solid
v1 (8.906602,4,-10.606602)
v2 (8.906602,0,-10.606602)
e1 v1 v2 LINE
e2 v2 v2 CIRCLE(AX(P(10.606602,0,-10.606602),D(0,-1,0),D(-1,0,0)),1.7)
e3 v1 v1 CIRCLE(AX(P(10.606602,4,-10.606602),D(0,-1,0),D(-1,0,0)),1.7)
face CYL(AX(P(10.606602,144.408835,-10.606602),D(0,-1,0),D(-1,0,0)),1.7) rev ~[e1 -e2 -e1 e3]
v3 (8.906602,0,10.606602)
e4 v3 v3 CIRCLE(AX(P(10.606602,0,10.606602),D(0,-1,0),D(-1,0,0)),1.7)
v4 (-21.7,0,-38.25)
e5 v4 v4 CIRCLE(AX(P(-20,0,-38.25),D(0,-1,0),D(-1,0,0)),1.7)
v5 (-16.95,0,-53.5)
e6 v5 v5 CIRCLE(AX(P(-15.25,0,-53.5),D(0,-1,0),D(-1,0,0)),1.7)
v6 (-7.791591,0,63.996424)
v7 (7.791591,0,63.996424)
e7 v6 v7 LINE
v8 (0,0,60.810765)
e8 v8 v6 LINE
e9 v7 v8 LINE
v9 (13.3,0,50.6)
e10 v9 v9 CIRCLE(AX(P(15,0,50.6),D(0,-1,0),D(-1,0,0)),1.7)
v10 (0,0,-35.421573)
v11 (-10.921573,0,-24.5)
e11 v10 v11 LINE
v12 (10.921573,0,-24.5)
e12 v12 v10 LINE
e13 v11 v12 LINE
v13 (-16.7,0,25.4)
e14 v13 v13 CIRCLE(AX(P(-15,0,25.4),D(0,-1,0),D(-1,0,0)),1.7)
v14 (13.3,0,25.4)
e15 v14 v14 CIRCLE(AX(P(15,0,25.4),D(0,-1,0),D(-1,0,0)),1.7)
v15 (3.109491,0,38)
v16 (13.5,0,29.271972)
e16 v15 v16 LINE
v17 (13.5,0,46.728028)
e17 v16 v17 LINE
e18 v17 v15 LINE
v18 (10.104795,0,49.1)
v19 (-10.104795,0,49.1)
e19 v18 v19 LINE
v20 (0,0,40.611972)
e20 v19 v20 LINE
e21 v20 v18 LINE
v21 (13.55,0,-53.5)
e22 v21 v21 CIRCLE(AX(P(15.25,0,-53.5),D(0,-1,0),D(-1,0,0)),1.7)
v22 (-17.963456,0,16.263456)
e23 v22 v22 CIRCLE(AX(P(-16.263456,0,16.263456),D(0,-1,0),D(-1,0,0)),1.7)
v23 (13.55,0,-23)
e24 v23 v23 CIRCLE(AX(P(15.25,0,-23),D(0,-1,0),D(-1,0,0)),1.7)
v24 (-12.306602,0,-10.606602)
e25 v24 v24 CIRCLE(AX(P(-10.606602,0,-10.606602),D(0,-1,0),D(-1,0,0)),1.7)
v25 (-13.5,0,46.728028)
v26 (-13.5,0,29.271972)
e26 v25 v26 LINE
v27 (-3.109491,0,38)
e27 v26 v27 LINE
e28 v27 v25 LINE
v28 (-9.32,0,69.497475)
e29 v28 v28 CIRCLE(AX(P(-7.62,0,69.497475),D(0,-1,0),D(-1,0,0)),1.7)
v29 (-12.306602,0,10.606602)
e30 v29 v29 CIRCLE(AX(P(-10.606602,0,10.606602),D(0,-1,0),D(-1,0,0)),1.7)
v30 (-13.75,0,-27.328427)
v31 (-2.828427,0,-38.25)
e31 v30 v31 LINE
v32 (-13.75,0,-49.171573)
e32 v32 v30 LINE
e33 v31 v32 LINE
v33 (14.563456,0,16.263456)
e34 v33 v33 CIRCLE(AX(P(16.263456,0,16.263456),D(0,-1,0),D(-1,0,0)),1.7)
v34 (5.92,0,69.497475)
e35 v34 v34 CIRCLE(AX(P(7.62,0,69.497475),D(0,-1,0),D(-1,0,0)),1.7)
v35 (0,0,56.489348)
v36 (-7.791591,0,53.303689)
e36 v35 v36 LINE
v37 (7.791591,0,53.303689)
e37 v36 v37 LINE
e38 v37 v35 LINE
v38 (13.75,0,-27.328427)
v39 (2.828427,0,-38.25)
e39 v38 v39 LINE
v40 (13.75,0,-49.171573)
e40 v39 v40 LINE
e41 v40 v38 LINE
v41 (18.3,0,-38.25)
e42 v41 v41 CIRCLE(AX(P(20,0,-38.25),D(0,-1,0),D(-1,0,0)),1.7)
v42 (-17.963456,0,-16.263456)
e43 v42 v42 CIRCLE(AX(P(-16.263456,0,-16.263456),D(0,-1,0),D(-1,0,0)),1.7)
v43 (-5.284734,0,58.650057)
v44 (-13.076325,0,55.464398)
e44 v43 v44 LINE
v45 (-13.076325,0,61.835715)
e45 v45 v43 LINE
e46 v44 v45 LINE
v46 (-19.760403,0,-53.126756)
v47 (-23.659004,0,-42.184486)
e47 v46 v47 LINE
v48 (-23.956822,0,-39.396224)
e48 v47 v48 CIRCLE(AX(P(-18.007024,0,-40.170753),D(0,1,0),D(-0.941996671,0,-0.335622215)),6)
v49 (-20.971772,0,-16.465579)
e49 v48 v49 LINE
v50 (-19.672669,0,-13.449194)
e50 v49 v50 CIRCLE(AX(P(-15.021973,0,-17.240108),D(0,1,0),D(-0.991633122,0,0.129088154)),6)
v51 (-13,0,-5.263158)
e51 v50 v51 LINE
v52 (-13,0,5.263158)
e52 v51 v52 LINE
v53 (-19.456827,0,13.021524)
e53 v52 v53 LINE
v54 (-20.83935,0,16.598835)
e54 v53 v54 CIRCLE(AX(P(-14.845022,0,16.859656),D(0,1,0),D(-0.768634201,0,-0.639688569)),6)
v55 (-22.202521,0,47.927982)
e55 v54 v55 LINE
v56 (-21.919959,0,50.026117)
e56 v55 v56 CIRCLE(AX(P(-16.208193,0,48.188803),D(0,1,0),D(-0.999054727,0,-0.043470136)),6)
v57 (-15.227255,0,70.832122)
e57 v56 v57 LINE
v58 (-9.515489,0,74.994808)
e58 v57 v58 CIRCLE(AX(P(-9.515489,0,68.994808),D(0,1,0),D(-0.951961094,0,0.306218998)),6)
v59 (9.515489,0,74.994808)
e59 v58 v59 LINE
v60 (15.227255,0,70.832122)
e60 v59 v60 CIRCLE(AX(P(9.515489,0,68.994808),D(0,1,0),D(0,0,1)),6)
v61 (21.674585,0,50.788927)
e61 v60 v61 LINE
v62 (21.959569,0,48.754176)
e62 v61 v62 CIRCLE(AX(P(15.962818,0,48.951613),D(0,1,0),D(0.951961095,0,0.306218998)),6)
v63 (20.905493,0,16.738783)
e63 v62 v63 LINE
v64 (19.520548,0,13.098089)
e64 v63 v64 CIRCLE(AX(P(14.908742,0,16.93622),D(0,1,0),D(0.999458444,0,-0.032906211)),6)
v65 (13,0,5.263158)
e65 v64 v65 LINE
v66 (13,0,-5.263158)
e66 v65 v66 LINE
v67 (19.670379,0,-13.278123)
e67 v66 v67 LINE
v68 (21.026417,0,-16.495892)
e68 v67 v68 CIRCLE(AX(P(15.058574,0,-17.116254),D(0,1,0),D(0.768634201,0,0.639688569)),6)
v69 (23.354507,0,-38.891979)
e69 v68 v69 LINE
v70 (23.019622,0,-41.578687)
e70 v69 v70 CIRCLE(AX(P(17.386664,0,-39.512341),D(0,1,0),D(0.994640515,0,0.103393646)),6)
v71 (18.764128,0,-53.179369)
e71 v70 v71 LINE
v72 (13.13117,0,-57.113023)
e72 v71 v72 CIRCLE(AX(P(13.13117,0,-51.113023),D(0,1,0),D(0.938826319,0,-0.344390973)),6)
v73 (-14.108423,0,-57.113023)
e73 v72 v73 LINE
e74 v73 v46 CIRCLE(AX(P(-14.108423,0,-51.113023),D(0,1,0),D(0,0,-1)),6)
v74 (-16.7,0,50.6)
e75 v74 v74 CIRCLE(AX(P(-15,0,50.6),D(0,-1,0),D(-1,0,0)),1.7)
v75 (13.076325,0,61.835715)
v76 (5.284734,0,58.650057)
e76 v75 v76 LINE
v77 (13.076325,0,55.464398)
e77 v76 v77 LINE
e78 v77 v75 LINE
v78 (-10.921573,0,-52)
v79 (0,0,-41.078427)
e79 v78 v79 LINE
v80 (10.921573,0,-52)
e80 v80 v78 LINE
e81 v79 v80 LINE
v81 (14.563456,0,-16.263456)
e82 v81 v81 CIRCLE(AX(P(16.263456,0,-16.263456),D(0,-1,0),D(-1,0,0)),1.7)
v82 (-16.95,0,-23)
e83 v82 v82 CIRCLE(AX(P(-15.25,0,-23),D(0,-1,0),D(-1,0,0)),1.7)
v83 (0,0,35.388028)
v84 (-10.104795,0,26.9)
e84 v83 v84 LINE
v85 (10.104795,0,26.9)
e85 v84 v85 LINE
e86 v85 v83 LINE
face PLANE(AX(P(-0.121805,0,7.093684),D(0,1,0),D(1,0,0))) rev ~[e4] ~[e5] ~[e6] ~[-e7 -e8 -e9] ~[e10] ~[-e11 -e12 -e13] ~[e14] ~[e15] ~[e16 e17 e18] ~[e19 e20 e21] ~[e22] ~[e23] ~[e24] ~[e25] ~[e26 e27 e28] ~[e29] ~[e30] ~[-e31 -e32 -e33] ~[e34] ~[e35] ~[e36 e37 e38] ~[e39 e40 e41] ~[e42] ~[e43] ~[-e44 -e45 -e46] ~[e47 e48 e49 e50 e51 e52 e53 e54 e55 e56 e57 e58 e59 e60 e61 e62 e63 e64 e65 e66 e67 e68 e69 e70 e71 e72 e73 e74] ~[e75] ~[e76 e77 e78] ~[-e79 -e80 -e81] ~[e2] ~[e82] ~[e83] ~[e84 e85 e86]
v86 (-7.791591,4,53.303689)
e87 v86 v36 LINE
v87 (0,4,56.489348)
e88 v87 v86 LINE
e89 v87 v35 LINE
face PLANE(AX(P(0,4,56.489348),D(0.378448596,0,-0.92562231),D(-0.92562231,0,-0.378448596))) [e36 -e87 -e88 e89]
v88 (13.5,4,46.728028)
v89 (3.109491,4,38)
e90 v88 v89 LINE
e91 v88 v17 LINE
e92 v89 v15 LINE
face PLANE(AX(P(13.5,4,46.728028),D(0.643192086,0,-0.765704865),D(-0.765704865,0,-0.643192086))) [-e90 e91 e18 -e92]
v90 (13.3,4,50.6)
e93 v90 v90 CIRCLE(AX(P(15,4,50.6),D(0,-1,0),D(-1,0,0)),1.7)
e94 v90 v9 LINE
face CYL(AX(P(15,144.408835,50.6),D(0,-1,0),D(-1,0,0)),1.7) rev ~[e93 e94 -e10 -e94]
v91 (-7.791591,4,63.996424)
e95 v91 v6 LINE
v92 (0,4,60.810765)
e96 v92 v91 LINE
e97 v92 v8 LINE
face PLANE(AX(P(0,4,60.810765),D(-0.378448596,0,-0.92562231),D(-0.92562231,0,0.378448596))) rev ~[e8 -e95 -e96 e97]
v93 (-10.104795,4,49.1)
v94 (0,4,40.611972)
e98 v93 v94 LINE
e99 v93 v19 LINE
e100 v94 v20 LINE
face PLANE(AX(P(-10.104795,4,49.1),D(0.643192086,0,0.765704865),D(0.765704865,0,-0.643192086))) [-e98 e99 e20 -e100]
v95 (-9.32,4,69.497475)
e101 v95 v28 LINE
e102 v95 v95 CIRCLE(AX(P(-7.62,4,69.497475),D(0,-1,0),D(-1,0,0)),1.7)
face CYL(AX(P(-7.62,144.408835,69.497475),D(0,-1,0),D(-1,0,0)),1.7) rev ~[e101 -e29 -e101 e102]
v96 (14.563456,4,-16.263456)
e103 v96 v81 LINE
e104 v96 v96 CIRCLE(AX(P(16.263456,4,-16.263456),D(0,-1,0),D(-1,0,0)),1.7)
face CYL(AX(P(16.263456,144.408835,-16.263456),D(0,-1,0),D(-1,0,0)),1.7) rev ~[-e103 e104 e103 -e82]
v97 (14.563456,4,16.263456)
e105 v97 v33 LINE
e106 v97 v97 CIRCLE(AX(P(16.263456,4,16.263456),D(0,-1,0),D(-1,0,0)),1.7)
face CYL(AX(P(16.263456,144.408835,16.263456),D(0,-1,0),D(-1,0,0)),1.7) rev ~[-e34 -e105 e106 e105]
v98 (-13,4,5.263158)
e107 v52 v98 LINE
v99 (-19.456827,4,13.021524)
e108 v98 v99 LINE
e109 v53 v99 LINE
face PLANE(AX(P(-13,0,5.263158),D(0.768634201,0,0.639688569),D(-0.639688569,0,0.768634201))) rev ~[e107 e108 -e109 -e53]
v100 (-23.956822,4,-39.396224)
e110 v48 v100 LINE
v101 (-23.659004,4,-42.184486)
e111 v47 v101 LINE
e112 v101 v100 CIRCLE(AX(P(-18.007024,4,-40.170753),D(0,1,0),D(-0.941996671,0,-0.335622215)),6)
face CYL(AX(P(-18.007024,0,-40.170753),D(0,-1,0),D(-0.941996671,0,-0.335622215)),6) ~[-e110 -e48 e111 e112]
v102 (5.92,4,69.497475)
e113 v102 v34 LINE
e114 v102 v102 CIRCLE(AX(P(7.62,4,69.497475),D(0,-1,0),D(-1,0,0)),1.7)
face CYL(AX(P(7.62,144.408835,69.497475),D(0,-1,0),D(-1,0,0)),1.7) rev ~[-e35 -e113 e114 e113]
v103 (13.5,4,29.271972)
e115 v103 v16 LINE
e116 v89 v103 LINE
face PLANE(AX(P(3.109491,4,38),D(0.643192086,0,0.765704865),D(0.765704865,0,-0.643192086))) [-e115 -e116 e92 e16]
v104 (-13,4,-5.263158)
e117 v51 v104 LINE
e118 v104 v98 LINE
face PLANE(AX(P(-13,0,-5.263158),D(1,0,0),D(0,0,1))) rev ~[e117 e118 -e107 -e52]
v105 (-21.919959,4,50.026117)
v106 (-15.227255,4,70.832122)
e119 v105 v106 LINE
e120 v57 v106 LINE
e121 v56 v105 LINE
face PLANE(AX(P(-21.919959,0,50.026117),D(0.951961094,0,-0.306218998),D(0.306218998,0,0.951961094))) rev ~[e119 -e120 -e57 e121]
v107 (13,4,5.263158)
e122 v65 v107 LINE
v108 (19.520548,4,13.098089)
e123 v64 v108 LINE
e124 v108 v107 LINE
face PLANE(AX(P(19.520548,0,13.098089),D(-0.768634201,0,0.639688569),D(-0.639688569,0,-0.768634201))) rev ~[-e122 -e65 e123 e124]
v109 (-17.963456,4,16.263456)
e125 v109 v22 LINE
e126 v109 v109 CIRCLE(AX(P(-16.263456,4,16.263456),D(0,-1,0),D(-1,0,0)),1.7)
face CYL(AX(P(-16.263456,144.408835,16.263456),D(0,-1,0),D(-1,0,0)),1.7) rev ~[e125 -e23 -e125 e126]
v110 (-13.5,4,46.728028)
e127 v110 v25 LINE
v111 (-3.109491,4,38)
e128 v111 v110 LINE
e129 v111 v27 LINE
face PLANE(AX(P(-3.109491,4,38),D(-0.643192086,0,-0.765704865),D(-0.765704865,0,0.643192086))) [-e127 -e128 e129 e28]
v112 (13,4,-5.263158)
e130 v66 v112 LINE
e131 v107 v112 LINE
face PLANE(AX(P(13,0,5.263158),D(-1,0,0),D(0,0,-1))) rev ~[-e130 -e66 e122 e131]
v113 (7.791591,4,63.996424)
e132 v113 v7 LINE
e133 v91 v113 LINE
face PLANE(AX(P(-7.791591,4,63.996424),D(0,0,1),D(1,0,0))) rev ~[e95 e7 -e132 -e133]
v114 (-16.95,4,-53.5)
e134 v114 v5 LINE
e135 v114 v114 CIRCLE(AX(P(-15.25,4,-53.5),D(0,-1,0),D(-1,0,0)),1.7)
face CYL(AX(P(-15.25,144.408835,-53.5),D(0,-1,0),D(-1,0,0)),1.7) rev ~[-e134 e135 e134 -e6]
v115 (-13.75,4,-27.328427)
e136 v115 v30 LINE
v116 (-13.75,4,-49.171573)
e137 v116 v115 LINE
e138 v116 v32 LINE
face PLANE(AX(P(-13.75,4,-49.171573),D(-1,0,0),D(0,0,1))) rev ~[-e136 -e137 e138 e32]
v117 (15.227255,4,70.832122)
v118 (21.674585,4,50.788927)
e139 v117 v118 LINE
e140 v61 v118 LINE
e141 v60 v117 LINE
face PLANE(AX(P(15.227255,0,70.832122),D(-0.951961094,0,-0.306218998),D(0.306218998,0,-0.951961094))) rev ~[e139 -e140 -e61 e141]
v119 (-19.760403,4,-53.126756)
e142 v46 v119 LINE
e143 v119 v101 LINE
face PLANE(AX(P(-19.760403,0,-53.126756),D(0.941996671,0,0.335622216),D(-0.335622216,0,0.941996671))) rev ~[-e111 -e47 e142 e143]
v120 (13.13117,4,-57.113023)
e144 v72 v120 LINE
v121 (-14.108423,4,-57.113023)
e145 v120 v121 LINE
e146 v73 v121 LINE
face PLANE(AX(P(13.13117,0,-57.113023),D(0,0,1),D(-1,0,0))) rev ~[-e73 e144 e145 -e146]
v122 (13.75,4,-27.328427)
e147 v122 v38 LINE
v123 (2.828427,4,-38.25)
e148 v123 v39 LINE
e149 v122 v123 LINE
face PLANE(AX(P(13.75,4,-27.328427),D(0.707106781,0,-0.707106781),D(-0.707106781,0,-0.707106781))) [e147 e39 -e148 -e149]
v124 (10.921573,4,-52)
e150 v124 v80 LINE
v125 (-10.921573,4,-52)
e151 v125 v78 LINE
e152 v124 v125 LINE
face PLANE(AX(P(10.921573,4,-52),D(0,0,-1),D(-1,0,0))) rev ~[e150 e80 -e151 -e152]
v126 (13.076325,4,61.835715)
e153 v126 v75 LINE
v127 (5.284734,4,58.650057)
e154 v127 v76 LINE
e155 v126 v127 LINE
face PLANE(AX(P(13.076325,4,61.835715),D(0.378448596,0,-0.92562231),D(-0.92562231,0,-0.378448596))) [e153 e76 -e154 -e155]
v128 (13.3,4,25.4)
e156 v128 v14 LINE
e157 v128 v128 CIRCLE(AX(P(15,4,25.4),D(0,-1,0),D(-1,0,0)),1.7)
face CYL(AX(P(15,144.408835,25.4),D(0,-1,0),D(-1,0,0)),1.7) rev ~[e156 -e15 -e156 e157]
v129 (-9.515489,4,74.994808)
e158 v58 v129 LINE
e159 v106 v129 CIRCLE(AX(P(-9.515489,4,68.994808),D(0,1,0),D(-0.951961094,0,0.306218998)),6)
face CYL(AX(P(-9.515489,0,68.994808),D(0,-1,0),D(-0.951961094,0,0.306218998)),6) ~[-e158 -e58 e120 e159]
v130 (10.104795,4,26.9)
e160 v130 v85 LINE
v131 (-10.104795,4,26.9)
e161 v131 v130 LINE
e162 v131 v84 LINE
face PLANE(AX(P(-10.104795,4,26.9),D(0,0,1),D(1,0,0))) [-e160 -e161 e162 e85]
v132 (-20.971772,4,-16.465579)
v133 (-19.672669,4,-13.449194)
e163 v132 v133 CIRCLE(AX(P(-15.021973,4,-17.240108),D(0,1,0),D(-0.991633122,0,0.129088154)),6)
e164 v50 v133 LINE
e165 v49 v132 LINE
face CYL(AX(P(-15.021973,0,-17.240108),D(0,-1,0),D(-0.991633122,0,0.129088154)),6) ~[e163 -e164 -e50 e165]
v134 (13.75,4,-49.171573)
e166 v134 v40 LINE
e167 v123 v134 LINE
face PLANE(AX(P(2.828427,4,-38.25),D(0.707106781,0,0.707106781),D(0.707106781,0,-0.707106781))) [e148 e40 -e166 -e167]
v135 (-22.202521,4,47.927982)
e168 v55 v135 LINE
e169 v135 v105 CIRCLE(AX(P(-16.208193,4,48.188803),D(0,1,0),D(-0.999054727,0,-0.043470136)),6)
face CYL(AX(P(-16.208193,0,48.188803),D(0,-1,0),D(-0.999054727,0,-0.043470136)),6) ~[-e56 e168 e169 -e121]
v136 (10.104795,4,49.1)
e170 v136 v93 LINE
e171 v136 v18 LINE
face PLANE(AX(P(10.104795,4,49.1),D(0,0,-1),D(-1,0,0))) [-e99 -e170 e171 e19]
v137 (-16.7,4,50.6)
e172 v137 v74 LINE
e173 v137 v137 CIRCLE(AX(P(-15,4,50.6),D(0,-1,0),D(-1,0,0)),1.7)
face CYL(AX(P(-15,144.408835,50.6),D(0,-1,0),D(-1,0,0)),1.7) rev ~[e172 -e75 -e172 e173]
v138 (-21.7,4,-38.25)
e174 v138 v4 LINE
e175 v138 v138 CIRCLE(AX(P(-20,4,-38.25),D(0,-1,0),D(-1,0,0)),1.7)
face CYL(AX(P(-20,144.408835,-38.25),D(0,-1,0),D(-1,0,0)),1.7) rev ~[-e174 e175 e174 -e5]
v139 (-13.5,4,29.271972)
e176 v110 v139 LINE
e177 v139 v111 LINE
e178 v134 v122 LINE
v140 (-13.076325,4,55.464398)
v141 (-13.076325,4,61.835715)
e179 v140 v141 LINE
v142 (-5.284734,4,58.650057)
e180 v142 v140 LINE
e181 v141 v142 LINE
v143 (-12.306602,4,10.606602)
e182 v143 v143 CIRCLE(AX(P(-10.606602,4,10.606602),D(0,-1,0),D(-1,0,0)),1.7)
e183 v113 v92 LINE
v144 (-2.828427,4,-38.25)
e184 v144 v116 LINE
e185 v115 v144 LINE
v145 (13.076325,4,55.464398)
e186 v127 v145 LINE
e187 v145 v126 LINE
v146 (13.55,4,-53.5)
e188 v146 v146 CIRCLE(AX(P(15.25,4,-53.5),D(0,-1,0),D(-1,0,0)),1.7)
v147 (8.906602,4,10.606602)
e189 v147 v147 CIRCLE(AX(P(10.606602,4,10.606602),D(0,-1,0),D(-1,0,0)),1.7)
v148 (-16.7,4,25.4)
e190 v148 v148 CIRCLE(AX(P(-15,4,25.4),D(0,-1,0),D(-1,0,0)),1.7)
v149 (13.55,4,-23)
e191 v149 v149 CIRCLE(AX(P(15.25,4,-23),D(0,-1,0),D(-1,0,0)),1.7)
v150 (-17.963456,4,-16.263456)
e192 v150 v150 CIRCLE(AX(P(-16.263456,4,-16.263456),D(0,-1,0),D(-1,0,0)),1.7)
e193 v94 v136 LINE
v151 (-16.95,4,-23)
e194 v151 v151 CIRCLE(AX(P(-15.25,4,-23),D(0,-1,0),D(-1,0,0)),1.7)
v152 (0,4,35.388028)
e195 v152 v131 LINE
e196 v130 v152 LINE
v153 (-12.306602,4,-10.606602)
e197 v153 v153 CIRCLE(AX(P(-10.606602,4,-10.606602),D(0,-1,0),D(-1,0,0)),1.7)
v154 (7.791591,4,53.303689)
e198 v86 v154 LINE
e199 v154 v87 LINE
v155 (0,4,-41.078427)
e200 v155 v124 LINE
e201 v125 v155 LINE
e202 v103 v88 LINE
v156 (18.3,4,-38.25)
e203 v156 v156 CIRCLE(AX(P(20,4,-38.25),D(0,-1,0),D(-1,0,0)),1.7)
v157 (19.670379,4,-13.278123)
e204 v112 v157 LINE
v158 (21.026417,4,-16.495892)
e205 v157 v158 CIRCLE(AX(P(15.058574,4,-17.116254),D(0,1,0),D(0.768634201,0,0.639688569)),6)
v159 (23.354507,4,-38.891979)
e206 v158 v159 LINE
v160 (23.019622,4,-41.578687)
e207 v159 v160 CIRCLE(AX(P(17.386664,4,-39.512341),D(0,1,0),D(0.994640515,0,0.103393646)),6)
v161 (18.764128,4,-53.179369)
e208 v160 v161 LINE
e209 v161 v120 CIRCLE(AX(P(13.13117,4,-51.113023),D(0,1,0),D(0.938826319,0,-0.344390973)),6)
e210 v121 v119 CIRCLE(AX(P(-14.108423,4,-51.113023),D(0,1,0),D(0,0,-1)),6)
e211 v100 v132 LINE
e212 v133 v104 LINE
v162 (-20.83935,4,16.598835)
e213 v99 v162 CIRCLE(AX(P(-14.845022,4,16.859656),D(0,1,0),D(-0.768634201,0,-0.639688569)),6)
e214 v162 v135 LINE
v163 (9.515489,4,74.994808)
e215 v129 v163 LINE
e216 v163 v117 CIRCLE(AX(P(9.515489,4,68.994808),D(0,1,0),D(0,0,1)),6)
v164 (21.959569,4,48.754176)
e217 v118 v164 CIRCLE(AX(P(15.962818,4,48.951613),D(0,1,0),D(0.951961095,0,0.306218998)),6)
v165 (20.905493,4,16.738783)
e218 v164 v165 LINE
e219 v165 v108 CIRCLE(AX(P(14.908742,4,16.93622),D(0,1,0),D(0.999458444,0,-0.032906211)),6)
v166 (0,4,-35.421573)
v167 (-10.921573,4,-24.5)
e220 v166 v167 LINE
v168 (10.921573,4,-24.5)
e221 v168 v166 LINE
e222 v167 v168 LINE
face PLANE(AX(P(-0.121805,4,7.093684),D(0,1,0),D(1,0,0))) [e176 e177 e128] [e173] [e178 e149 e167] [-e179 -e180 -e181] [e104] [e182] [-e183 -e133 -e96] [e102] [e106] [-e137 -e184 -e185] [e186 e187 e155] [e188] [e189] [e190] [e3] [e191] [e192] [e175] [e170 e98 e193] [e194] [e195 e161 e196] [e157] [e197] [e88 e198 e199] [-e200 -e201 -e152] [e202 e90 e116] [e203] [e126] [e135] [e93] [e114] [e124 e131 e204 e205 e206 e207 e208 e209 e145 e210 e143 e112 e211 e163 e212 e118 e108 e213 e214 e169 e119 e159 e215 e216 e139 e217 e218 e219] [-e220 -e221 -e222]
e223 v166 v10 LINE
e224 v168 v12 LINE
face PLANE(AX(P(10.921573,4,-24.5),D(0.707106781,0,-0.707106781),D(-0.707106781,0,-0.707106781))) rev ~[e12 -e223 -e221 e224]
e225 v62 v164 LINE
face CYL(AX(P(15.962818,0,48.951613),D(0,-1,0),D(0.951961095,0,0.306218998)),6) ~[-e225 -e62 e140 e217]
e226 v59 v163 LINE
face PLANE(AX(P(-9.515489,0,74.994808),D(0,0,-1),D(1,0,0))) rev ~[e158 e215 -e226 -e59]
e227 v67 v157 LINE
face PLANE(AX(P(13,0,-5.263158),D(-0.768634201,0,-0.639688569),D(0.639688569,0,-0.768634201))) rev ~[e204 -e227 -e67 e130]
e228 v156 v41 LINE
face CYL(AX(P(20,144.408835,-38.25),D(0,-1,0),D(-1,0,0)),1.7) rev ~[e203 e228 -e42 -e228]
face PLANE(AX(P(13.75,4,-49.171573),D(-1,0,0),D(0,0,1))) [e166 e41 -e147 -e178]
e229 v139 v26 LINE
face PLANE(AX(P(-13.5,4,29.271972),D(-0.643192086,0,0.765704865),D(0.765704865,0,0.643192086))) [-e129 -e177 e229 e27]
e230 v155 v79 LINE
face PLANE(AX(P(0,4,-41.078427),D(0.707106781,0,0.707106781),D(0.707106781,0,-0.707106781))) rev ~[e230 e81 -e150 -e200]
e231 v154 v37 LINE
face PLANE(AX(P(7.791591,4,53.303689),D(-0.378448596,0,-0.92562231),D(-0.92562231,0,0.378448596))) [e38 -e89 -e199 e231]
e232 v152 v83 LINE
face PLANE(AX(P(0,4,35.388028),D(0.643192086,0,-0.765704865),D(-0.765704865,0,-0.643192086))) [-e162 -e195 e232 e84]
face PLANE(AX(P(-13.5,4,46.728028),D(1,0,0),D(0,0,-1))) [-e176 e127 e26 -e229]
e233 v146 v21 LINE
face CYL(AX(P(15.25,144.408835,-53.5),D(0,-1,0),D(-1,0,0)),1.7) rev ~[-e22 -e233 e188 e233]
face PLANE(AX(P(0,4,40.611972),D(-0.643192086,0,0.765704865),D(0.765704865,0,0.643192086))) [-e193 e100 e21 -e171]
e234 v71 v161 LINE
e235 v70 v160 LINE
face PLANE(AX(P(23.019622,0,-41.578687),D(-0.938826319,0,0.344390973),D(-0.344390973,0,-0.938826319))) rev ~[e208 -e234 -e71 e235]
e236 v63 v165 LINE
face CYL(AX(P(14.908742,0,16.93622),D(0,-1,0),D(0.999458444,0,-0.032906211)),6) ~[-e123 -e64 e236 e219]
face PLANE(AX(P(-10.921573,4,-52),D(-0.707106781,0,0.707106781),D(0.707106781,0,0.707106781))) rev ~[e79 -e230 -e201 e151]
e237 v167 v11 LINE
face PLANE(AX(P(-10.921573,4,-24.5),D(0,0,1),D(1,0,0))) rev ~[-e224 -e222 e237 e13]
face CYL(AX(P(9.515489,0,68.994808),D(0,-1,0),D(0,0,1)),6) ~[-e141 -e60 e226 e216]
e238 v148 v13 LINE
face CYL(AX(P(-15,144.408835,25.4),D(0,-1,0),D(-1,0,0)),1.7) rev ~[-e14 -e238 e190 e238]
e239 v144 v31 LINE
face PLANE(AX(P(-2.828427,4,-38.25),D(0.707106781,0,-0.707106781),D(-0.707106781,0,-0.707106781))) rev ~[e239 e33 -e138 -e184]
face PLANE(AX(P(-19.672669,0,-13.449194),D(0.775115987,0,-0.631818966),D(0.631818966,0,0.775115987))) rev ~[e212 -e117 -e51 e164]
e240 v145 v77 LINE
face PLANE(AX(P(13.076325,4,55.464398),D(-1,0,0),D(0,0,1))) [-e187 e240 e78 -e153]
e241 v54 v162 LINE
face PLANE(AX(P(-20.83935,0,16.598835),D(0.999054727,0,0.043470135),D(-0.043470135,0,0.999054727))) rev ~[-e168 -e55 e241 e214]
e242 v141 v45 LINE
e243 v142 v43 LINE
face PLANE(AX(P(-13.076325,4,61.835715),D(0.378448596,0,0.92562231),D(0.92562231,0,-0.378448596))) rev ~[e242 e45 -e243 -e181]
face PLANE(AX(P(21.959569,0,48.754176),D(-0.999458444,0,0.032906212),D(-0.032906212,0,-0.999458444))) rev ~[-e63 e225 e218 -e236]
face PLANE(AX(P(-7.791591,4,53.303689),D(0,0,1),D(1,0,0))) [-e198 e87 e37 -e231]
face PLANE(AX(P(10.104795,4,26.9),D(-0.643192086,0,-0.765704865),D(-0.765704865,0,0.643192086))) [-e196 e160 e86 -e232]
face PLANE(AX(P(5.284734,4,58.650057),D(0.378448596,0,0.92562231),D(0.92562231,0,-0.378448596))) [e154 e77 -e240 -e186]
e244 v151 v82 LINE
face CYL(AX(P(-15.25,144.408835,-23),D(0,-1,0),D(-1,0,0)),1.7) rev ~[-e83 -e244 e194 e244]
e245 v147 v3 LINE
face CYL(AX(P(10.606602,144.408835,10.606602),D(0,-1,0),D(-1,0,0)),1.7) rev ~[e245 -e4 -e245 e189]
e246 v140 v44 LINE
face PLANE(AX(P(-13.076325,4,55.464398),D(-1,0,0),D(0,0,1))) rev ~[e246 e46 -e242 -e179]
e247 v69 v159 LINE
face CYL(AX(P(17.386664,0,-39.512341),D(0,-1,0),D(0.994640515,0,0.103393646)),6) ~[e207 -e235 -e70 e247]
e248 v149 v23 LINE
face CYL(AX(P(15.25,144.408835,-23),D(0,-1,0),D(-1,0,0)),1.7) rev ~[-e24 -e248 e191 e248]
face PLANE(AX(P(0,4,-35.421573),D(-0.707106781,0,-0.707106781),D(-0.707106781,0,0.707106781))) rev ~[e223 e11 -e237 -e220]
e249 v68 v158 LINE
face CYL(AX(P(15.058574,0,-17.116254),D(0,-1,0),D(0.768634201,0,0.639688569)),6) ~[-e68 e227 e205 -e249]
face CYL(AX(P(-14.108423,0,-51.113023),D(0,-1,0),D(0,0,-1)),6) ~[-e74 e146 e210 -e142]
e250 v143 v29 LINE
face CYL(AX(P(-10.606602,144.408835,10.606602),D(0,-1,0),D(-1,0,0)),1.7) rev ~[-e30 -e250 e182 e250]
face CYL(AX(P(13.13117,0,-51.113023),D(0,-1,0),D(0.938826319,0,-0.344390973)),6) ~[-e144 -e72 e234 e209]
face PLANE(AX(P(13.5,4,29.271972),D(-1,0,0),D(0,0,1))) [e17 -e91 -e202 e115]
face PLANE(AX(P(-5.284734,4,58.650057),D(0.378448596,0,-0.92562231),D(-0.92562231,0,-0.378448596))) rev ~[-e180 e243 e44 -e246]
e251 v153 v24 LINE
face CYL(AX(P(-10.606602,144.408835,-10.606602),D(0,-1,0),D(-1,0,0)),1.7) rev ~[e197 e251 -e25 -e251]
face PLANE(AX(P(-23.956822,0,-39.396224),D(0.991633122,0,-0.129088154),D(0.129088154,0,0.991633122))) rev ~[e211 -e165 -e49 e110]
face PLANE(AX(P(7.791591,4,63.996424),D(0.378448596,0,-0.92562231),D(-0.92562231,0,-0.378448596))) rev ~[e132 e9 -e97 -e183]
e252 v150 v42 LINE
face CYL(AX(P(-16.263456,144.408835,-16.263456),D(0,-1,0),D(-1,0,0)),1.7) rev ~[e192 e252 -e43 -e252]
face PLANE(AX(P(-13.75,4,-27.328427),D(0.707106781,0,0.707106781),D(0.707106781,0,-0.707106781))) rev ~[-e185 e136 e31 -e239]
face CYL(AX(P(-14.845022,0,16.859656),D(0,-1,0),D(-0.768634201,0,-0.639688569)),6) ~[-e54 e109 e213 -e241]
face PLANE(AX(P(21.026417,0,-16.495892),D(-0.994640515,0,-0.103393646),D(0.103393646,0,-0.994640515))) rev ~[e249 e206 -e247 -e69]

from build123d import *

# Parameters (mm, degrees)
BOSS_EXTRUDE1_DEPTH  = 4
CUT_EXTRUDE1_DEPTH   = 10
M3_CLEARANCE_HOLE3_D = 3.4
M3_CLEARANCE_HOLE4_D = 3.4


with BuildPart() as part:
    # Sketch1 → Boss-Extrude1 (new body)
    with BuildSketch(Plane(origin=(0, 0, 0), x_dir=(1, 0, 0), z_dir=(0, 1, 0))):
        with BuildLine():
            Line((-9.515488572, -74.994808418), (9.515488572, -74.994808418))
            ThreePointArc((9.515488572, -74.994808418), (13.049333225, -73.843719838), (15.227255138, -70.832122406))
            Line((15.227255138, -70.832122406), (21.674585029, -50.788926983))
            ThreePointArc((21.674585029, -50.788926983), (21.904821248, -49.783840665), (21.959569126, -48.754175722))
            Line((21.959569126, -48.754175722), (20.905492982, -16.738783097))
            ThreePointArc((20.905492982, -16.738783097), (20.516685602, -14.802919609), (19.520547525, -13.098088957))
            Line((19.520547525, -13.098088957), (13, -5.263157895))
            Line((13, -5.263157895), (13, 5.263157895))
            Line((13, 5.263157895), (19.670378922, 13.278122714))
            ThreePointArc((19.670378922, 13.278122714), (20.587655893, 14.78617896), (21.026416806, 16.495892253))
            Line((21.026416806, 16.495892253), (23.354507229, 38.891979018))
            ThreePointArc((23.354507229, 38.891979018), (23.340591043, 40.254469199), (23.019622055, 41.578686728))
            Line((23.019622055, 41.578686728), (18.764127525, 53.179369038))
            ThreePointArc((18.764127525, 53.179369038), (16.566422509, 56.032274923), (13.131169609, 57.113023201))
            Line((13.131169609, 57.113023201), (-14.108422678, 57.113023201))
            ThreePointArc((-14.108422678, 57.113023201), (-17.566572488, 56.016205829), (-19.760402704, 53.126756496))
            Line((-19.760402704, 53.126756496), (-23.659003651, 42.184485876))
            ThreePointArc((-23.659003651, 42.184485876), (-23.973087581, 40.807997325), (-23.956822357, 39.396223658))
            Line((-23.956822357, 39.396223658), (-20.971772171, 16.465578606))
            ThreePointArc((-20.971772171, 16.465578606), (-20.532623688, 14.866769408), (-19.672669362, 13.44919373))
            Line((-19.672669362, 13.44919373), (-13, 5.263157895))
            Line((-13, 5.263157895), (-13, -5.263157895))
            Line((-13, -5.263157895), (-19.456827239, -13.021524214))
            ThreePointArc((-19.456827239, -13.021524214), (-20.441610734, -14.696742104), (-20.839350394, -16.598834814))
            Line((-20.839350394, -16.598834814), (-22.202521241, -47.927982232))
            ThreePointArc((-22.202521241, -47.927982232), (-22.154511659, -48.989610746), (-21.919959446, -50.026117032))
            Line((-21.919959446, -50.026117032), (-15.227255138, -70.832122406))
            ThreePointArc((-15.227255138, -70.832122406), (-13.049333225, -73.843719838), (-9.515488572, -74.994808418))
        make_face()
    extrude(amount=BOSS_EXTRUDE1_DEPTH)

    # Sketch6 → Cut-Extrude1 (cut)
    with BuildSketch(Plane(origin=(0, 4, 0), x_dir=(1, 0, 0), z_dir=(0, 1, 0))):
        Polygon((0, 35.421572875), (-10.921572875, 24.5), (10.921572875, 24.5), align=None)
        Polygon((7.79159133, -53.303689334), (-7.79159133, -53.303689334), (0, -56.489348074), align=None)
        Polygon((-5.284733567, -58.650056583), (-13.076324897, -55.464397842), (-13.076324897, -61.835715323), align=None)
        Polygon((2.828427125, 38.25), (13.75, 27.328427125), (13.75, 49.171572875), align=None)
        Polygon((-3.109490994, -38), (-13.5, -29.271972435), (-13.5, -46.728027565), align=None)
        Polygon((0, -40.611972435), (-10.104794721, -49.1), (10.104794721, -49.1), align=None)
        Polygon((0, -60.810765091), (-7.79159133, -63.996423832), (7.79159133, -63.996423832), align=None)
        Polygon((-13.75, 49.171572875), (-13.75, 27.328427125), (-2.828427125, 38.25), align=None)
        Polygon((13.076324897, -61.835715323), (13.076324897, -55.464397842), (5.284733567, -58.650056583), align=None)
        Polygon((-10.921572875, 52), (0, 41.078427125), (10.921572875, 52), align=None)
        Polygon((10.104794721, -26.9), (-10.104794721, -26.9), (0, -35.388027565), align=None)
        Polygon((13.5, -29.271972435), (3.109490994, -38), (13.5, -46.728027565), align=None)
    extrude(amount=-CUT_EXTRUDE1_DEPTH, mode=Mode.SUBTRACT)

    # M3 Clearance Hole3 (through all)
    with Locations(Plane(origin=(0, 4, 0), x_dir=(1, 0, 0), z_dir=(0, 1, 0))):
        with Locations((7.62, -69.497474683), (-7.62, -69.497474683), (-26.177409906, -26.177409906), (26.177409906, -26.177409906), (26.177409906, 26.177409906), (-26.177409906, 26.177409906), (-15, -25.4), (-15.25, 23), (-15.25, 53.5), (15.25, 53.5), (15.25, 23), (-15, -50.6), (15, -50.6), (15, -25.4), (20, 38.25), (-20, 38.25)):
            Hole(M3_CLEARANCE_HOLE3_D / 2)

    # M3 Clearance Hole4 (through all)
    with Locations(Plane(origin=(0, 4, 0), x_dir=(1, 0, 0), z_dir=(0, 1, 0))):
        with Locations((-10.606601718, 10.606601718), (-16.263455967, 16.263455967), (10.606601718, 10.606601718), (16.263455967, 16.263455967), (16.263455967, -16.263455967), (10.606601718, -10.606601718), (-10.606601718, -10.606601718), (-16.263455967, -16.263455967)):
            Hole(M3_CLEARANCE_HOLE4_D / 2)


solid = part.part
